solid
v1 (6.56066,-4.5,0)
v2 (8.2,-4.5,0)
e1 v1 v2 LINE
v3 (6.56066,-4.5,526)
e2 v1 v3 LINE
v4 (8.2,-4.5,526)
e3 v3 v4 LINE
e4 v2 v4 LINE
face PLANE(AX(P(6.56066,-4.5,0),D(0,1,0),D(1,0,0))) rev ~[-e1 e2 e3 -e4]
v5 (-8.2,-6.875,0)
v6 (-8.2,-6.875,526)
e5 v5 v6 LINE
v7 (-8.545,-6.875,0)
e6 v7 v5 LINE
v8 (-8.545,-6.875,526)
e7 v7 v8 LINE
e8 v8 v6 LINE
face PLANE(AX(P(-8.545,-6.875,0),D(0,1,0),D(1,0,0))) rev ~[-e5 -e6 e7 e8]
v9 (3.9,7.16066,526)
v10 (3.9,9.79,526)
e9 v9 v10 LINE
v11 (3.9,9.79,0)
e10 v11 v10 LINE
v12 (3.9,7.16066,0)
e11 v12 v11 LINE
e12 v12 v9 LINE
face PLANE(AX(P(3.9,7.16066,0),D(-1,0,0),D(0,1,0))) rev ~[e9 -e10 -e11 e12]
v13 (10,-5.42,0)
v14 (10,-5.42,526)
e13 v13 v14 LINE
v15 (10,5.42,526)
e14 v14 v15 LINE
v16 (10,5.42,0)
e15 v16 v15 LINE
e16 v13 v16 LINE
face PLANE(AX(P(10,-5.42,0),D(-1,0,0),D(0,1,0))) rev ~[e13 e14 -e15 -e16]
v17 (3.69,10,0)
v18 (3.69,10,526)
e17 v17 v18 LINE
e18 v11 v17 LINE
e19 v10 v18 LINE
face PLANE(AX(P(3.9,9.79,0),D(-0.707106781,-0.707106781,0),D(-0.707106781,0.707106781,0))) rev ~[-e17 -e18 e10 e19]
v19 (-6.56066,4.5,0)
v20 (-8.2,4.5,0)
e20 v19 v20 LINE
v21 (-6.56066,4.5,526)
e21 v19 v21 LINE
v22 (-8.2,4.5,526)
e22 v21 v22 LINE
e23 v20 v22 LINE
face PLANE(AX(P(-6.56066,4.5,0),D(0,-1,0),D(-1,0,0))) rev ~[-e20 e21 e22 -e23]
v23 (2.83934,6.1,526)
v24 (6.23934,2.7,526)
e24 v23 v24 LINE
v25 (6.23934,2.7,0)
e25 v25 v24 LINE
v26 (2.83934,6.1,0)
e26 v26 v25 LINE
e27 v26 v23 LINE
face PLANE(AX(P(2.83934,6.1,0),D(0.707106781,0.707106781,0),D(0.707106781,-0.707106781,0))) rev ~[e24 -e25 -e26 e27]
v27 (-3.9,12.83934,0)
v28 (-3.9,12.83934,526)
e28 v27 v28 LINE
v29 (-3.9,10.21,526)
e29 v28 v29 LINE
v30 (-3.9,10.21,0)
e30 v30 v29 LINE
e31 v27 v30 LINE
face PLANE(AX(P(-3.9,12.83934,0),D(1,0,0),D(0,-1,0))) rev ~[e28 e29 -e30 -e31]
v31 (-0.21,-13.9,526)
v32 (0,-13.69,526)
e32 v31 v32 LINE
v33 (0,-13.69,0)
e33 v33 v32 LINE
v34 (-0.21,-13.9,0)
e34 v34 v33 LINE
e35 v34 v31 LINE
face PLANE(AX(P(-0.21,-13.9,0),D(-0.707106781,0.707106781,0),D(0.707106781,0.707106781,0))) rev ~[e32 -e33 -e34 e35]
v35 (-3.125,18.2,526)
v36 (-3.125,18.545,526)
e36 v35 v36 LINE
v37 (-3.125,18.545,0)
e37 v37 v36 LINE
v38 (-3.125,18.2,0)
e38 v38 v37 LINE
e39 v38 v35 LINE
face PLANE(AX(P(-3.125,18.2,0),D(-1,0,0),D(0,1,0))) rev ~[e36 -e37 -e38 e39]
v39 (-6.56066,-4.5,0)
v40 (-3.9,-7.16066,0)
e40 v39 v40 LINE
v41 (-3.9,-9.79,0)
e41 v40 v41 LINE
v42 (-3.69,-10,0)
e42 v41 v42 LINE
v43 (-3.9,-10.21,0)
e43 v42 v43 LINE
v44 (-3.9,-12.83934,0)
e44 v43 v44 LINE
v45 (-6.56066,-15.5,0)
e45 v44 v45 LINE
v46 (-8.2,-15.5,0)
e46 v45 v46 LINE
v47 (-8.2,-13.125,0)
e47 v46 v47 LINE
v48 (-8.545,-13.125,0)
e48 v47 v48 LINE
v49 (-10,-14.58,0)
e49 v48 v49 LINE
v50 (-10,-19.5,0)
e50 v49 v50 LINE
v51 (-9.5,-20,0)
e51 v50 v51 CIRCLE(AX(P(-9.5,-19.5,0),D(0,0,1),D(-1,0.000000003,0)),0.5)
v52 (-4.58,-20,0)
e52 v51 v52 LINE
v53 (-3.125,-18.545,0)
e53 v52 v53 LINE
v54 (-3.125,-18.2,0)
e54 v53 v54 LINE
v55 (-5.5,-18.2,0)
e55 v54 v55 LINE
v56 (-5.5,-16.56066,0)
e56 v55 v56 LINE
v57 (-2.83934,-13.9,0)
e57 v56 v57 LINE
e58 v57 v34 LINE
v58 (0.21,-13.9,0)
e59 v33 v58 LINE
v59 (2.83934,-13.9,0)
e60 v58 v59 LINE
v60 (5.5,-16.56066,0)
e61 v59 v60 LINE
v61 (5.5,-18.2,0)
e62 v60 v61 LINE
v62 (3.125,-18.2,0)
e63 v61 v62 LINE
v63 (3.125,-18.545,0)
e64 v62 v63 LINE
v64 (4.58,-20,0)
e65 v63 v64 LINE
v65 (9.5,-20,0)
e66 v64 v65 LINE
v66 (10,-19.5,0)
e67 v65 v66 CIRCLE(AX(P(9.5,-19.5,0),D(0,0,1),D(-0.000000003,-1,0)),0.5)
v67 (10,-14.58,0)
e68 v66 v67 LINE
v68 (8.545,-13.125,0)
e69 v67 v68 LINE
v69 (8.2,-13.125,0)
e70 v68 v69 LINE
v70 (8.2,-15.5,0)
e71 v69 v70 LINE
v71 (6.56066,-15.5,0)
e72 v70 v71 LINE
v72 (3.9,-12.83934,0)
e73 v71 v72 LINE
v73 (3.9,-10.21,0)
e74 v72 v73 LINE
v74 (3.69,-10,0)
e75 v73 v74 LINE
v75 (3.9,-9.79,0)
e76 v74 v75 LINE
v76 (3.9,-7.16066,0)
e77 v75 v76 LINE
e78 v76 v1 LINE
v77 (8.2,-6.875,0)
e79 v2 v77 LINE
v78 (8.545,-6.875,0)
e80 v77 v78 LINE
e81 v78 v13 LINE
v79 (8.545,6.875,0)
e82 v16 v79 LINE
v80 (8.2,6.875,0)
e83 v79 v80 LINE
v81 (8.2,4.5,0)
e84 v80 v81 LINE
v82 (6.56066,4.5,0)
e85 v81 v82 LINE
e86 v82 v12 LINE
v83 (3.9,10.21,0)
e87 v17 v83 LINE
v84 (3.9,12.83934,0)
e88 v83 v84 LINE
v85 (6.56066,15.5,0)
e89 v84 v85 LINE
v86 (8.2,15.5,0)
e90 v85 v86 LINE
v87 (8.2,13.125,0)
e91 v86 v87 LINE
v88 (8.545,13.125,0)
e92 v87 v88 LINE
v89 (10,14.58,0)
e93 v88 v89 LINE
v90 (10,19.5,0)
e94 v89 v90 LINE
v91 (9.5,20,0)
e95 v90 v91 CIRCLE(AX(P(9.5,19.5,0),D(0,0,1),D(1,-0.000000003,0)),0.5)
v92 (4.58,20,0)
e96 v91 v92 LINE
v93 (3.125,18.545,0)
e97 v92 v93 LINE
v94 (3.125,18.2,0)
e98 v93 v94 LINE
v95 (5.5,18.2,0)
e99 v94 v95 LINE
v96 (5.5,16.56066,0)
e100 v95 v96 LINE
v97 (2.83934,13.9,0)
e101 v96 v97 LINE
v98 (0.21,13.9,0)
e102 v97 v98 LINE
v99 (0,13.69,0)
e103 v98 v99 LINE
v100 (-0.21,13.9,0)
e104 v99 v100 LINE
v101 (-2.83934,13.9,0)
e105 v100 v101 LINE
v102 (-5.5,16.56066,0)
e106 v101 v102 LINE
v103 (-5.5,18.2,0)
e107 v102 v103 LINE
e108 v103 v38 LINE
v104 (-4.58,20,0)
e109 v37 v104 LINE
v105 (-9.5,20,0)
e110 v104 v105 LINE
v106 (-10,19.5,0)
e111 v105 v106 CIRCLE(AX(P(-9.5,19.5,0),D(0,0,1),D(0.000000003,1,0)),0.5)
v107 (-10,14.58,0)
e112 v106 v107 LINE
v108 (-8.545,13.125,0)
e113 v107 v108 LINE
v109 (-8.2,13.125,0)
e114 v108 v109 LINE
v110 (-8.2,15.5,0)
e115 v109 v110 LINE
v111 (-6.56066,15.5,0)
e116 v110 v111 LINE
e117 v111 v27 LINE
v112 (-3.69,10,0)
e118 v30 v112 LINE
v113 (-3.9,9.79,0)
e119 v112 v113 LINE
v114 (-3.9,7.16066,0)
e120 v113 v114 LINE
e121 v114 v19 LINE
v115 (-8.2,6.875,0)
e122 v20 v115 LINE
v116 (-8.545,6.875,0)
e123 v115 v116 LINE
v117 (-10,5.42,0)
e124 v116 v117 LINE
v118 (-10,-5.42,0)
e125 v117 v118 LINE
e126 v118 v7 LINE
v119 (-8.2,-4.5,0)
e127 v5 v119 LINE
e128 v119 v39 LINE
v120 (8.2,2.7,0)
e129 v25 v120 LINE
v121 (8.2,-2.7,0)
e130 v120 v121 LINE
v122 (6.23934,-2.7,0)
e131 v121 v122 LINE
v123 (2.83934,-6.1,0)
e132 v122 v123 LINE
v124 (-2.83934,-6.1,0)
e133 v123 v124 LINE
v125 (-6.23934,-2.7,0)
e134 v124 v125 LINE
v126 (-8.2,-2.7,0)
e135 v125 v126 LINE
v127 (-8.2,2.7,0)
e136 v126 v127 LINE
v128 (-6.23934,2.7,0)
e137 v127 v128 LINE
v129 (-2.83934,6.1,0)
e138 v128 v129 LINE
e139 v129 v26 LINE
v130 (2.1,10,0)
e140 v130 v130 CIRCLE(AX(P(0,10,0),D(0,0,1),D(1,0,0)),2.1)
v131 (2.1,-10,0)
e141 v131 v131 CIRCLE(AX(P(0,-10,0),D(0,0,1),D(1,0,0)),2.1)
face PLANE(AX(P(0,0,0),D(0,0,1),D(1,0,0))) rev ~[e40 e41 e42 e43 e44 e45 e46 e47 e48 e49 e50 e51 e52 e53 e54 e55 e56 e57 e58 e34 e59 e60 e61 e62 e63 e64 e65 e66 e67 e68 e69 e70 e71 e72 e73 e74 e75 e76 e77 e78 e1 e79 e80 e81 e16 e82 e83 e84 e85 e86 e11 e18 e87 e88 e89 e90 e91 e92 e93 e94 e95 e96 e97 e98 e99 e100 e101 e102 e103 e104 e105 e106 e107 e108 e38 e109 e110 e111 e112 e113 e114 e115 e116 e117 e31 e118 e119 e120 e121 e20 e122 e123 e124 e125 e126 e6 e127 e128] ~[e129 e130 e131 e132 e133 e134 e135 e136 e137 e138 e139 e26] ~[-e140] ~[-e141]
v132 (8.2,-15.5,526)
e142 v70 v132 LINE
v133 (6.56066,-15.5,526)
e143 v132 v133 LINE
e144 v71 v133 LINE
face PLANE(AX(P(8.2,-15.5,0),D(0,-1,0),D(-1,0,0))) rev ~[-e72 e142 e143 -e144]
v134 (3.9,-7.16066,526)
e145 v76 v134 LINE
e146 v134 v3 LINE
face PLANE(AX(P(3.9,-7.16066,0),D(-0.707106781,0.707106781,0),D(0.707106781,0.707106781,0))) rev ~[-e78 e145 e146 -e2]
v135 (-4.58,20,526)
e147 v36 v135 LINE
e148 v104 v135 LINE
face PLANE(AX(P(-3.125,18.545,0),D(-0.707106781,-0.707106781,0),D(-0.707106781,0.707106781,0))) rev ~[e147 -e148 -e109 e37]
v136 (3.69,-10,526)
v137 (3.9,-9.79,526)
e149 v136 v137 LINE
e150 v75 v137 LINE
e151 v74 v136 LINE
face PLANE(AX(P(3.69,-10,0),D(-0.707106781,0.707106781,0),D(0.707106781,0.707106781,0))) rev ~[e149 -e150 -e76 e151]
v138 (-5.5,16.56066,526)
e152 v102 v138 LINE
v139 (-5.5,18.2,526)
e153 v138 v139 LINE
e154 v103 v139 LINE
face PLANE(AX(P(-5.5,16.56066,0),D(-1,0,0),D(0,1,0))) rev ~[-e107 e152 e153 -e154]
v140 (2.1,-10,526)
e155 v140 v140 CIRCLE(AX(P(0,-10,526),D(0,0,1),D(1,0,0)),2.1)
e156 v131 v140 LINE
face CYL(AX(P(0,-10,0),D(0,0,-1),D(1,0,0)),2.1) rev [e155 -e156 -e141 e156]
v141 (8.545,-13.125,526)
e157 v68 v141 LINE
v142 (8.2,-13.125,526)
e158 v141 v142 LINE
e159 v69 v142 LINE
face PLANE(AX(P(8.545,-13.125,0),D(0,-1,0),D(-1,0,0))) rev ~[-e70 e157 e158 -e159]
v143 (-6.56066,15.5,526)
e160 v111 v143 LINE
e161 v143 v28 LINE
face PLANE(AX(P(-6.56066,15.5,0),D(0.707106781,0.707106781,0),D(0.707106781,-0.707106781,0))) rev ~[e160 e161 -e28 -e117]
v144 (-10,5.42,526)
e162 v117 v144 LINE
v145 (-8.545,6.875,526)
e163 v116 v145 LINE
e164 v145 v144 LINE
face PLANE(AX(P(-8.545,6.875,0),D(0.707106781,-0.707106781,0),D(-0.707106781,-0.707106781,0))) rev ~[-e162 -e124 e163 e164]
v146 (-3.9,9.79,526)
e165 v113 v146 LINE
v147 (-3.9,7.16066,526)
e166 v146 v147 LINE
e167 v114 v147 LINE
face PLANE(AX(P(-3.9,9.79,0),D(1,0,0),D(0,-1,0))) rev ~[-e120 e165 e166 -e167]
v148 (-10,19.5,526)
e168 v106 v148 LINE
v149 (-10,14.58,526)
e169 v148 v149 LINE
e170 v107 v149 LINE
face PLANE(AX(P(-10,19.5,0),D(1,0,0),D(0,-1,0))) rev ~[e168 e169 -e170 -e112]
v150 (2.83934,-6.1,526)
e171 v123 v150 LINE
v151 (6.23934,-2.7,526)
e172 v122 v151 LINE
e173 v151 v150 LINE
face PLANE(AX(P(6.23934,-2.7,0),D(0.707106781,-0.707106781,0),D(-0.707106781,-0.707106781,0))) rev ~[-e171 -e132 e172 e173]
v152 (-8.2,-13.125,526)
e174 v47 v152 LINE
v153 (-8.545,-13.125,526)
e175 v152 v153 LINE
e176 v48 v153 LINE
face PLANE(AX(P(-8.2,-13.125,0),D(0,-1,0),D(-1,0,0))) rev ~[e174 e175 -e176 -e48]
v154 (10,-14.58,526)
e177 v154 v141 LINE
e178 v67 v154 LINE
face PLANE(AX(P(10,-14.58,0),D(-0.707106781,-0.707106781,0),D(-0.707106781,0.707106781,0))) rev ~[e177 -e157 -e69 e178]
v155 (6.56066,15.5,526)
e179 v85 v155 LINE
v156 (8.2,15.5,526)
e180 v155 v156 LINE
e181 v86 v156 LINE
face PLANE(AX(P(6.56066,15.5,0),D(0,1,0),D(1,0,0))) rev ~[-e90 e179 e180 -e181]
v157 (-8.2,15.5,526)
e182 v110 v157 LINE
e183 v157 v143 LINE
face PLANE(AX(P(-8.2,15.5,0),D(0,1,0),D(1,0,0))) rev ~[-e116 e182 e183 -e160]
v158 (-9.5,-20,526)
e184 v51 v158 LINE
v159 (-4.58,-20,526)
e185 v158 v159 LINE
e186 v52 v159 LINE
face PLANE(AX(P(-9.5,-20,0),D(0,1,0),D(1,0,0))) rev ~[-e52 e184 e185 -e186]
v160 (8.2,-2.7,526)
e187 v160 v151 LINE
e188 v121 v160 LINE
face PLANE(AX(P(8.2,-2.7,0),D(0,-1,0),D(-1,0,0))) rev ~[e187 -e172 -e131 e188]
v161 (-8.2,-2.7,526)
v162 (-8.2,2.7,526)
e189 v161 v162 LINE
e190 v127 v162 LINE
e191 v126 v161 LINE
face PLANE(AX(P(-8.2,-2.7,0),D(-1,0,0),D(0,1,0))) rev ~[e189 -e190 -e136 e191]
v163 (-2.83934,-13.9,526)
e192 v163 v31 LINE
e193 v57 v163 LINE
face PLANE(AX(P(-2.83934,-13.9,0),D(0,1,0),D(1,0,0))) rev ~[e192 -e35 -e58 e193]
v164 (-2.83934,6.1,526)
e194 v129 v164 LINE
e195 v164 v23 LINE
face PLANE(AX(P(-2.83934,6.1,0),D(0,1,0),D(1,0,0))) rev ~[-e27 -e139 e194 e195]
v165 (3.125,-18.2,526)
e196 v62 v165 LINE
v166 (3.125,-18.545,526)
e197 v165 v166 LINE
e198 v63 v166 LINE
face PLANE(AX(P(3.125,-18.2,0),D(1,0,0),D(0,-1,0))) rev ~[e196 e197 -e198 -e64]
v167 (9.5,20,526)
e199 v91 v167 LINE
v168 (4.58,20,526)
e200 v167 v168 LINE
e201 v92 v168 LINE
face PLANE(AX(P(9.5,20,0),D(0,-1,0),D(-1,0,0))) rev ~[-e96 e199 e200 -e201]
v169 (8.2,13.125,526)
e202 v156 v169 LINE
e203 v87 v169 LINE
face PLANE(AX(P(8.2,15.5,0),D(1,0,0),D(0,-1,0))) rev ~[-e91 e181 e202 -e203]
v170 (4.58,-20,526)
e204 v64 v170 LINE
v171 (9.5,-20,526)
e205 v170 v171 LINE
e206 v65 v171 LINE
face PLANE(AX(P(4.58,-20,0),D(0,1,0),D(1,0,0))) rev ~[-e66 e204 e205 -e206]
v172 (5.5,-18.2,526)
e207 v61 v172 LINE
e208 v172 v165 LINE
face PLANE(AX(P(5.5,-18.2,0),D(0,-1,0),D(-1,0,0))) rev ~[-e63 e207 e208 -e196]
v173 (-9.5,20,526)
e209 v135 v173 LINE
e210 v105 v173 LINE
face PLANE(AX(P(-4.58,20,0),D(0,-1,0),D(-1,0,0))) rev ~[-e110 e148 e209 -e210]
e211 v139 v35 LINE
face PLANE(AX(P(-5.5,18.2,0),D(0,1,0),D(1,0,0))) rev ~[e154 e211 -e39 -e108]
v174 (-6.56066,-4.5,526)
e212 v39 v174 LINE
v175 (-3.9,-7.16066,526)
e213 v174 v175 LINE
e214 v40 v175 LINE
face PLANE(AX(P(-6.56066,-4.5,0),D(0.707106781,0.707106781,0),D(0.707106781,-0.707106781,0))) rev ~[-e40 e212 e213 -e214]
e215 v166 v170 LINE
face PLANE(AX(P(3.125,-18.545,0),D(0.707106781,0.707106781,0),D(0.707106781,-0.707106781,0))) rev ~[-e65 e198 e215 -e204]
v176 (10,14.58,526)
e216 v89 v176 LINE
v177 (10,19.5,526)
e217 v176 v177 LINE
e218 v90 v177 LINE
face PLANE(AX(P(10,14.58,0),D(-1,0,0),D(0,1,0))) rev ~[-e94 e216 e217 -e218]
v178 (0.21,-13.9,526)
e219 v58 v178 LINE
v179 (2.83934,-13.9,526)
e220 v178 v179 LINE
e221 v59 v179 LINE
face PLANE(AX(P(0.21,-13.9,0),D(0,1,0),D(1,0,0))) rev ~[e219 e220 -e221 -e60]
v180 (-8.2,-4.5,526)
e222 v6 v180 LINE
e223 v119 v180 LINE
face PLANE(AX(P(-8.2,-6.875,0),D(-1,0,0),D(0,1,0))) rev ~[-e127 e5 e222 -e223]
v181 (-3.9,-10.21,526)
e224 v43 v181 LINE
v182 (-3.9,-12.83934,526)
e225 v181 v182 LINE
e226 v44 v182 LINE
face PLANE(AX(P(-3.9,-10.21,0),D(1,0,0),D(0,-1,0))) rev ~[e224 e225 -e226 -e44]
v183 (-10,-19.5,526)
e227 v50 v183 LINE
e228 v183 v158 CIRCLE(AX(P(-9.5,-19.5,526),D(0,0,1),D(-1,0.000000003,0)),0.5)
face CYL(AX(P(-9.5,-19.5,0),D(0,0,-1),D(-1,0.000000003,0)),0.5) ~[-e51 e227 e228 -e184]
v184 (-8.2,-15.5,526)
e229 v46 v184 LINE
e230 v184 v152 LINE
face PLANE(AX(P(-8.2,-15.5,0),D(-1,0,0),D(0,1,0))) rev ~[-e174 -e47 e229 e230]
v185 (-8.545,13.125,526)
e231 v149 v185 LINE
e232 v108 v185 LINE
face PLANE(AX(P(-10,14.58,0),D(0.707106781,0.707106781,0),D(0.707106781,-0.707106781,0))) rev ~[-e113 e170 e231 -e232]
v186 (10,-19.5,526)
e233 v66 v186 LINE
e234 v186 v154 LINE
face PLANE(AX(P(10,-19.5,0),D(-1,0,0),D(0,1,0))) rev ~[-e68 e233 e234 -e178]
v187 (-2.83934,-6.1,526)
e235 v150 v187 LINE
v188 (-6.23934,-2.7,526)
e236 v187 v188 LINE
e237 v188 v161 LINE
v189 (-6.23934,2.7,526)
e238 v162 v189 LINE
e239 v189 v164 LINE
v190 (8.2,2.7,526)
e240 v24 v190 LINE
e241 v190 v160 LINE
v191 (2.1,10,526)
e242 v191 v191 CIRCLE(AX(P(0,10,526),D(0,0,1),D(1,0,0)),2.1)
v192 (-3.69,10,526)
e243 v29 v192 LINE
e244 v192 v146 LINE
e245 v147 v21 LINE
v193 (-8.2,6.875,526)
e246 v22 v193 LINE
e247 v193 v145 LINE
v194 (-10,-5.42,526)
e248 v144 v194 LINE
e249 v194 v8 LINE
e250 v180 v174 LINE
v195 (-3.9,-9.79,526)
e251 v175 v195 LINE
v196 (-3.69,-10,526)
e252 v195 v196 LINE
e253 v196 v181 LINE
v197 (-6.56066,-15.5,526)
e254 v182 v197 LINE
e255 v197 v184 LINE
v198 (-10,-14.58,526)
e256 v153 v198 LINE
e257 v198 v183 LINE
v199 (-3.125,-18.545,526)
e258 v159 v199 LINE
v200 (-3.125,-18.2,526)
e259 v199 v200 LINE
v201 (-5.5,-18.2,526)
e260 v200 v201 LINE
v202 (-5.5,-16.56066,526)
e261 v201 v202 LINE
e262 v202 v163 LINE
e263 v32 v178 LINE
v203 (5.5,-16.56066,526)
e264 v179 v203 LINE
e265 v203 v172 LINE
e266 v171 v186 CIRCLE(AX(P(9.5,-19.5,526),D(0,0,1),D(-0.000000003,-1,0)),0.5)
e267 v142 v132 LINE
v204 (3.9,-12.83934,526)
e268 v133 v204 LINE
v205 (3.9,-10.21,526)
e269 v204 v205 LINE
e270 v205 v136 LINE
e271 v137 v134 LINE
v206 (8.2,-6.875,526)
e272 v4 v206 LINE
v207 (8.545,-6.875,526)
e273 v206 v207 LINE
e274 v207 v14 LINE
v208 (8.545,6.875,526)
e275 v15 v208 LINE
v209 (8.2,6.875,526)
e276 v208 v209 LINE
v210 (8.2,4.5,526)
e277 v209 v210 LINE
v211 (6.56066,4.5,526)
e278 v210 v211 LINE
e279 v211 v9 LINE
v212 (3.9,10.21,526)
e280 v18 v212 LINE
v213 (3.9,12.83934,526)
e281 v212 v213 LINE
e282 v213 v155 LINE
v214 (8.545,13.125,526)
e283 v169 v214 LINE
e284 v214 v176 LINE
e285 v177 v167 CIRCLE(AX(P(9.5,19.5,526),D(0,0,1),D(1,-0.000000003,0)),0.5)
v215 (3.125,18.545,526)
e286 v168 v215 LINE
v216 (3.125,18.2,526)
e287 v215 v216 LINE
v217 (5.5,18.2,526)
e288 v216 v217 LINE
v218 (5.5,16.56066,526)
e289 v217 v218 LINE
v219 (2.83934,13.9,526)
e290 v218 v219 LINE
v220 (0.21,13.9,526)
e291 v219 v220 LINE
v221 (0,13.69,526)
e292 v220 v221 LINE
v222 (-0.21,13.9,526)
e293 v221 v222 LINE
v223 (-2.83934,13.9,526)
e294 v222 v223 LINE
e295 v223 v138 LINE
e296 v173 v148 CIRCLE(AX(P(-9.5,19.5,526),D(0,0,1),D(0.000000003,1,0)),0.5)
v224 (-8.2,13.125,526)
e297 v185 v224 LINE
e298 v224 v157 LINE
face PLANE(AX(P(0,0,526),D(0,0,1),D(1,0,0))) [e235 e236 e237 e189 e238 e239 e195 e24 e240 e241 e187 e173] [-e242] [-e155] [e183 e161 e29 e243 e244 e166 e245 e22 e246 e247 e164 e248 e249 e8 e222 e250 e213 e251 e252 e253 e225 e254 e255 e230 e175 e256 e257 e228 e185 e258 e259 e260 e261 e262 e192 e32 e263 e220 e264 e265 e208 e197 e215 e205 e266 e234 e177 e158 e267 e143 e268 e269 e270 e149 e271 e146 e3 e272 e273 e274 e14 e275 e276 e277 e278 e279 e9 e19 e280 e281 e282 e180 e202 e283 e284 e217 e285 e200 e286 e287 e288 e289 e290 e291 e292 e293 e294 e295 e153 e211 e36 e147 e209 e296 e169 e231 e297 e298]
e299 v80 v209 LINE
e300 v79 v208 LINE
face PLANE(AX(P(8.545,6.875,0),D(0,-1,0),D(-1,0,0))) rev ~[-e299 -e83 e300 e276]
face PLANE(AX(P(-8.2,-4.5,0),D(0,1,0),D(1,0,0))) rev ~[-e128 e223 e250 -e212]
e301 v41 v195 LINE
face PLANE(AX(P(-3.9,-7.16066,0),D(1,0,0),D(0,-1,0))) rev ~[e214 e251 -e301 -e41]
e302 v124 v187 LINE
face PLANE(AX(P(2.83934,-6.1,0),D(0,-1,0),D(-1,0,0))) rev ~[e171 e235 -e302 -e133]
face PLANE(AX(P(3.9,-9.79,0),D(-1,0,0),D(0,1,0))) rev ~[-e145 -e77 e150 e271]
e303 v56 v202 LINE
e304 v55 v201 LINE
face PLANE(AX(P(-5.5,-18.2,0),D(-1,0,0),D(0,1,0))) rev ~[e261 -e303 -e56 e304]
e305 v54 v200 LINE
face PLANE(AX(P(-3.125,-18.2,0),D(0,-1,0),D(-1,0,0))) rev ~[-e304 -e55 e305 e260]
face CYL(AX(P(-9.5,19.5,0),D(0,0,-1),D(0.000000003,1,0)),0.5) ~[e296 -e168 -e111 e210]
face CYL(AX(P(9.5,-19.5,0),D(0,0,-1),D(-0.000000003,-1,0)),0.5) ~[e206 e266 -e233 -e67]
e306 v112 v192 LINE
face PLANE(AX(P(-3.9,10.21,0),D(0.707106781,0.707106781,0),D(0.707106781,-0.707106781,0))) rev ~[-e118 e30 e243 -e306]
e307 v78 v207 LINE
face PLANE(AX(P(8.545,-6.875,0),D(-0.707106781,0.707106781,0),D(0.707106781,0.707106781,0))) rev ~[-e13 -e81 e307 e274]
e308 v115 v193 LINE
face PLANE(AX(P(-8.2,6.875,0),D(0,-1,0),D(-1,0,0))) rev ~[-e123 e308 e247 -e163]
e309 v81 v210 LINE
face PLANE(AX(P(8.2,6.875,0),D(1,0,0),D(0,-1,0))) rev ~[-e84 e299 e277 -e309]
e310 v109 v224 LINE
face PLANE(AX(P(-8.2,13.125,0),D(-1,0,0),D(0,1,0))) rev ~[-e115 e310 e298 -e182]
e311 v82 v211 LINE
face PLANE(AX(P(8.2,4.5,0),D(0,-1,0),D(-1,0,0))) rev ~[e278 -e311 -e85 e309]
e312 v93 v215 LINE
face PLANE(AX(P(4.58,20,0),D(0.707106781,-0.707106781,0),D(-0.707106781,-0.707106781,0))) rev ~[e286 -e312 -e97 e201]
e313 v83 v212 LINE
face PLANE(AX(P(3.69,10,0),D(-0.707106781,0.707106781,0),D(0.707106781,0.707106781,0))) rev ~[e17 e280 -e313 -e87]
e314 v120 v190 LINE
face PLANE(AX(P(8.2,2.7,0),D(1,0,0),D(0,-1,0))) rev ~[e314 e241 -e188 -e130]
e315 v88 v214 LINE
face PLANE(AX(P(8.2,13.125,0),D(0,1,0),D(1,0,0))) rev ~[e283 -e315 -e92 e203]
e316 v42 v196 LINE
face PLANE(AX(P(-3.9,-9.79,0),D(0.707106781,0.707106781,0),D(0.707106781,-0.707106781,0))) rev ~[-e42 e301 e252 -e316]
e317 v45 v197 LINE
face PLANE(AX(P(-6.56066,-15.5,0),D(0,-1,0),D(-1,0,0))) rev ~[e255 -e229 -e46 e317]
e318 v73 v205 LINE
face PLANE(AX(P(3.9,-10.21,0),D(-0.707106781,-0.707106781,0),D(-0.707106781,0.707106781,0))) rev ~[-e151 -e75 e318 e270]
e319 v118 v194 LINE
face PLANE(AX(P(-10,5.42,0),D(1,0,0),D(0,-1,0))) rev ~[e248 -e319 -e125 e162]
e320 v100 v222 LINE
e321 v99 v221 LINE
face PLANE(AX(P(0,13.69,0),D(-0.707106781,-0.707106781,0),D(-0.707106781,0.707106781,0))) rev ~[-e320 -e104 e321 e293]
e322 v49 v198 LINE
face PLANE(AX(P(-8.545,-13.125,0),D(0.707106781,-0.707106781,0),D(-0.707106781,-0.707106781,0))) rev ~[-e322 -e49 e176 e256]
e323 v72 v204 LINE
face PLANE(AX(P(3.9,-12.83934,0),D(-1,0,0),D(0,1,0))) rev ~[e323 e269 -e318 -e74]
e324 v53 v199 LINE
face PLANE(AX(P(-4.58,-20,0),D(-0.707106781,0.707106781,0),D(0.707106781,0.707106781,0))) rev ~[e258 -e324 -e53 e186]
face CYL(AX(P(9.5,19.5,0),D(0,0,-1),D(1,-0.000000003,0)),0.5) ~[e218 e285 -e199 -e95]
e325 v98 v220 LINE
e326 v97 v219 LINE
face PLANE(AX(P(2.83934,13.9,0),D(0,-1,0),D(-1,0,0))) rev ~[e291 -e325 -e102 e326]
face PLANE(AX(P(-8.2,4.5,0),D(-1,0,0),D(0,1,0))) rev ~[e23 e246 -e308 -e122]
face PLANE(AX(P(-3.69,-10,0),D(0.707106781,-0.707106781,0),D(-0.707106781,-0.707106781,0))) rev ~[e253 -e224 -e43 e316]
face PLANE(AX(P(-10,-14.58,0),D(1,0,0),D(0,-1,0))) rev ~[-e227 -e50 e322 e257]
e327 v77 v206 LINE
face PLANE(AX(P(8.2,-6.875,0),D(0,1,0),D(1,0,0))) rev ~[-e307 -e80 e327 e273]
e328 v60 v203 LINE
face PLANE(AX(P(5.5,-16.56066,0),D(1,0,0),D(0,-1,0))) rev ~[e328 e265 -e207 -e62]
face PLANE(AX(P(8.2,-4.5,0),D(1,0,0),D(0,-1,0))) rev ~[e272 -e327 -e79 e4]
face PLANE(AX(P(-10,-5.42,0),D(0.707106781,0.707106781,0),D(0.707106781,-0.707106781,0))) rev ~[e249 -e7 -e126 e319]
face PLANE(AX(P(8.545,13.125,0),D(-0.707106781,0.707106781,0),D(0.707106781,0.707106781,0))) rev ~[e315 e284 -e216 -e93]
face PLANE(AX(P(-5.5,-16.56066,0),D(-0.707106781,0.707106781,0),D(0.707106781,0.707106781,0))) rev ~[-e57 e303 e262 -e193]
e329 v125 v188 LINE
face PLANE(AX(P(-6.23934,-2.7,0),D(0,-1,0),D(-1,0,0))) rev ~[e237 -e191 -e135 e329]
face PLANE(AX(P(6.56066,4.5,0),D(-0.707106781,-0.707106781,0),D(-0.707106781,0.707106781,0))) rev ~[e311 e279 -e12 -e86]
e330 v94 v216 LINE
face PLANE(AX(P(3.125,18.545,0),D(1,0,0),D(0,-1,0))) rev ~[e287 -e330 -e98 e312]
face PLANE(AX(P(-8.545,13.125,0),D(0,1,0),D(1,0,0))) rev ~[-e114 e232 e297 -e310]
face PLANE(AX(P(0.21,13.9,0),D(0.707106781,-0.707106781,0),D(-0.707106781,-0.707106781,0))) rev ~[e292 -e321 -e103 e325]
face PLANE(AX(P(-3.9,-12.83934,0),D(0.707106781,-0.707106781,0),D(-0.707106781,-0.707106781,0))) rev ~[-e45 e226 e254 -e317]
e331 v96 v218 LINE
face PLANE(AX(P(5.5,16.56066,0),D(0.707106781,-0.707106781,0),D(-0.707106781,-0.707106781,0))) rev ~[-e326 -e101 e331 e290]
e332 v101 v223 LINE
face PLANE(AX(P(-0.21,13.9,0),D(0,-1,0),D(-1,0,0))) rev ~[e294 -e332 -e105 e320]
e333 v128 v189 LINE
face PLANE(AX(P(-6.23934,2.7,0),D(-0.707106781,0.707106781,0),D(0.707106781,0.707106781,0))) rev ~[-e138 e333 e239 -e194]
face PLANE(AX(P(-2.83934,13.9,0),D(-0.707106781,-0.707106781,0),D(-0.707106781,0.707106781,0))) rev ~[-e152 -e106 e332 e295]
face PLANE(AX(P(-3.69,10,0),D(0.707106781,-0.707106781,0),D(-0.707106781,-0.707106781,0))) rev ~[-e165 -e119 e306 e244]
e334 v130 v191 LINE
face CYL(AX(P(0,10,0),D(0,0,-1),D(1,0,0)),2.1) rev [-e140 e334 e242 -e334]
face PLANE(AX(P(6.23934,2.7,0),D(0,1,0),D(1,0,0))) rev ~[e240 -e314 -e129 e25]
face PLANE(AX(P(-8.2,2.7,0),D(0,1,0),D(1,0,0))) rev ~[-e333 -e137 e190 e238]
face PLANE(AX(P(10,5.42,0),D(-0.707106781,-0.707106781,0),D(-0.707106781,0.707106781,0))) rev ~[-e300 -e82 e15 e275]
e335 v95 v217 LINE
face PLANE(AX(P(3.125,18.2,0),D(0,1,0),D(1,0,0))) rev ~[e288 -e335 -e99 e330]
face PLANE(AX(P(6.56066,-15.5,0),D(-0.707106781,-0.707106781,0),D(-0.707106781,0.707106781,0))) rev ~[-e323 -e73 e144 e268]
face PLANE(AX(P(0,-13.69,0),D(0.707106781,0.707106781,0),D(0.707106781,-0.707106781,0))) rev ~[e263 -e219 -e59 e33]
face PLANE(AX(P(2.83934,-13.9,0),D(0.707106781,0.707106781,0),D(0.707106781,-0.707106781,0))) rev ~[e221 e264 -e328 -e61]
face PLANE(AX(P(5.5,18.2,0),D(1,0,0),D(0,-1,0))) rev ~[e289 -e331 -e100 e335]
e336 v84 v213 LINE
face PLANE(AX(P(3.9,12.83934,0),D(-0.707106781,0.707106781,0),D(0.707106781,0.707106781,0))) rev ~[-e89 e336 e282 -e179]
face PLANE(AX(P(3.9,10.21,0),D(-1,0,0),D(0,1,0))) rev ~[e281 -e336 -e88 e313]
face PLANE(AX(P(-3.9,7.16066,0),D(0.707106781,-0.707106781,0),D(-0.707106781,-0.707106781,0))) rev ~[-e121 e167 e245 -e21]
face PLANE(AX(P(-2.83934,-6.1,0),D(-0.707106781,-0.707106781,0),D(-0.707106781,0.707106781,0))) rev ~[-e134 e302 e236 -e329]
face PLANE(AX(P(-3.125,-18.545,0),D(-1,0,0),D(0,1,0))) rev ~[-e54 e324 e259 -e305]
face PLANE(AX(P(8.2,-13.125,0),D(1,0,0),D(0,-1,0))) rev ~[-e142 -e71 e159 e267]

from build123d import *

# Parameters (mm, degrees)
SKETCH1_R           = 2.1
BOSS_EXTRUDE1_DEPTH = 526


with BuildPart() as part:
    # Sketch1 → Boss-Extrude1 (new body)
    with BuildSketch(Plane.XY):
        with BuildLine():
            Line((4.58, -20), (9.5, -20))
            ThreePointArc((9.5, -20), (9.853553391, -19.853553391), (10, -19.5))
            Line((10, -19.5), (10, -14.58))
            Line((10, -14.58), (8.545, -13.125))
            Line((8.545, -13.125), (8.2, -13.125))
            Line((8.2, -13.125), (8.2, -15.5))
            Line((8.2, -15.5), (6.560660172, -15.5))
            Line((6.560660172, -15.5), (3.9, -12.839339828))
            Line((3.9, -12.839339828), (3.9, -10.21))
            Line((3.9, -10.21), (3.69, -10))
            Line((3.69, -10), (3.9, -9.79))
            Line((3.9, -9.79), (3.9, -7.160660172))
            Line((3.9, -7.160660172), (6.560660172, -4.5))
            Line((6.560660172, -4.5), (8.2, -4.5))
            Line((8.2, -4.5), (8.2, -6.875))
            Line((8.2, -6.875), (8.545, -6.875))
            Line((8.545, -6.875), (10, -5.42))
            Line((10, -5.42), (10, 5.42))
            Line((10, 5.42), (8.545, 6.875))
            Line((8.545, 6.875), (8.2, 6.875))
            Line((8.2, 6.875), (8.2, 4.5))
            Line((8.2, 4.5), (6.560660172, 4.5))
            Line((6.560660172, 4.5), (3.9, 7.160660172))
            Line((3.9, 7.160660172), (3.9, 9.79))
            Line((3.9, 9.79), (3.69, 10))
            Line((3.69, 10), (3.9, 10.21))
            Line((3.9, 10.21), (3.9, 12.839339828))
            Line((3.9, 12.839339828), (6.560660172, 15.5))
            Line((6.560660172, 15.5), (8.2, 15.5))
            Line((8.2, 15.5), (8.2, 13.125))
            Line((8.2, 13.125), (8.545, 13.125))
            Line((8.545, 13.125), (10, 14.58))
            Line((10, 14.58), (10, 19.5))
            ThreePointArc((10, 19.5), (9.853553391, 19.853553391), (9.5, 20))
            Line((9.5, 20), (4.58, 20))
            Line((4.58, 20), (3.125, 18.545))
            Line((3.125, 18.545), (3.125, 18.2))
            Line((3.125, 18.2), (5.5, 18.2))
            Line((5.5, 18.2), (5.5, 16.560660172))
            Line((5.5, 16.560660172), (2.839339828, 13.9))
            Line((2.839339828, 13.9), (0.21, 13.9))
            Line((0.21, 13.9), (0, 13.69))
            Line((0, 13.69), (-0.21, 13.9))
            Line((-0.21, 13.9), (-2.839339828, 13.9))
            Line((-2.839339828, 13.9), (-5.5, 16.560660172))
            Line((-5.5, 16.560660172), (-5.5, 18.2))
            Line((-5.5, 18.2), (-3.125, 18.2))
            Line((-3.125, 18.2), (-3.125, 18.545))
            Line((-3.125, 18.545), (-4.58, 20))
            Line((-4.58, 20), (-9.5, 20))
            ThreePointArc((-9.5, 20), (-9.853553391, 19.853553391), (-10, 19.5))
            Line((-10, 19.5), (-10, 14.58))
            Line((-10, 14.58), (-8.545, 13.125))
            Line((-8.545, 13.125), (-8.2, 13.125))
            Line((-8.2, 13.125), (-8.2, 15.5))
            Line((-8.2, 15.5), (-6.560660172, 15.5))
            Line((-6.560660172, 15.5), (-3.9, 12.839339828))
            Line((-3.9, 12.839339828), (-3.9, 10.21))
            Line((-3.9, 10.21), (-3.69, 10))
            Line((-3.69, 10), (-3.9, 9.79))
            Line((-3.9, 9.79), (-3.9, 7.160660172))
            Line((-3.9, 7.160660172), (-6.560660172, 4.5))
            Line((-6.560660172, 4.5), (-8.2, 4.5))
            Line((-8.2, 4.5), (-8.2, 6.875))
            Line((-8.2, 6.875), (-8.545, 6.875))
            Line((-8.545, 6.875), (-10, 5.42))
            Line((-10, 5.42), (-10, -5.42))
            Line((-10, -5.42), (-8.545, -6.875))
            Line((-8.545, -6.875), (-8.2, -6.875))
            Line((-8.2, -6.875), (-8.2, -4.5))
            Line((-8.2, -4.5), (-6.560660172, -4.5))
            Line((-6.560660172, -4.5), (-3.9, -7.160660172))
            Line((-3.9, -7.160660172), (-3.9, -9.79))
            Line((-3.9, -9.79), (-3.69, -10))
            Line((-3.69, -10), (-3.9, -10.21))
            Line((-3.9, -10.21), (-3.9, -12.839339828))
            Line((-3.9, -12.839339828), (-6.560660172, -15.5))
            Line((-6.560660172, -15.5), (-8.2, -15.5))
            Line((-8.2, -15.5), (-8.2, -13.125))
            Line((-8.2, -13.125), (-8.545, -13.125))
            Line((-8.545, -13.125), (-10, -14.58))
            Line((-10, -14.58), (-10, -19.5))
            ThreePointArc((-10, -19.5), (-9.853553391, -19.853553391), (-9.5, -20))
            Line((-9.5, -20), (-4.58, -20))
            Line((-4.58, -20), (-3.125, -18.545))
            Line((-3.125, -18.545), (-3.125, -18.2))
            Line((-3.125, -18.2), (-5.5, -18.2))
            Line((-5.5, -18.2), (-5.5, -16.560660172))
            Line((-5.5, -16.560660172), (-2.839339828, -13.9))
            Line((-2.839339828, -13.9), (-0.21, -13.9))
            Line((-0.21, -13.9), (0, -13.69))
            Line((0, -13.69), (0.21, -13.9))
            Line((0.21, -13.9), (2.839339828, -13.9))
            Line((2.839339828, -13.9), (5.5, -16.560660172))
            Line((5.5, -16.560660172), (5.5, -18.2))
            Line((5.5, -18.2), (3.125, -18.2))
            Line((3.125, -18.2), (3.125, -18.545))
            Line((3.125, -18.545), (4.58, -20))
        make_face()
        with Locations((0, -10)):
            Circle(SKETCH1_R, mode=Mode.SUBTRACT)
        Polygon((-6.239339828, -2.7), (-8.2, -2.7), (-8.2, 2.7), (-6.239339828, 2.7), (-2.839339828, 6.1), (2.839339828, 6.1), (6.239339828, 2.7), (8.2, 2.7), (8.2, -2.7), (6.239339828, -2.7), (2.839339828, -6.1), (-2.839339828, -6.1), align=None, mode=Mode.SUBTRACT)
        with Locations((0, 10)):
            Circle(SKETCH1_R, mode=Mode.SUBTRACT)
    extrude(amount=BOSS_EXTRUDE1_DEPTH)


solid = part.part
